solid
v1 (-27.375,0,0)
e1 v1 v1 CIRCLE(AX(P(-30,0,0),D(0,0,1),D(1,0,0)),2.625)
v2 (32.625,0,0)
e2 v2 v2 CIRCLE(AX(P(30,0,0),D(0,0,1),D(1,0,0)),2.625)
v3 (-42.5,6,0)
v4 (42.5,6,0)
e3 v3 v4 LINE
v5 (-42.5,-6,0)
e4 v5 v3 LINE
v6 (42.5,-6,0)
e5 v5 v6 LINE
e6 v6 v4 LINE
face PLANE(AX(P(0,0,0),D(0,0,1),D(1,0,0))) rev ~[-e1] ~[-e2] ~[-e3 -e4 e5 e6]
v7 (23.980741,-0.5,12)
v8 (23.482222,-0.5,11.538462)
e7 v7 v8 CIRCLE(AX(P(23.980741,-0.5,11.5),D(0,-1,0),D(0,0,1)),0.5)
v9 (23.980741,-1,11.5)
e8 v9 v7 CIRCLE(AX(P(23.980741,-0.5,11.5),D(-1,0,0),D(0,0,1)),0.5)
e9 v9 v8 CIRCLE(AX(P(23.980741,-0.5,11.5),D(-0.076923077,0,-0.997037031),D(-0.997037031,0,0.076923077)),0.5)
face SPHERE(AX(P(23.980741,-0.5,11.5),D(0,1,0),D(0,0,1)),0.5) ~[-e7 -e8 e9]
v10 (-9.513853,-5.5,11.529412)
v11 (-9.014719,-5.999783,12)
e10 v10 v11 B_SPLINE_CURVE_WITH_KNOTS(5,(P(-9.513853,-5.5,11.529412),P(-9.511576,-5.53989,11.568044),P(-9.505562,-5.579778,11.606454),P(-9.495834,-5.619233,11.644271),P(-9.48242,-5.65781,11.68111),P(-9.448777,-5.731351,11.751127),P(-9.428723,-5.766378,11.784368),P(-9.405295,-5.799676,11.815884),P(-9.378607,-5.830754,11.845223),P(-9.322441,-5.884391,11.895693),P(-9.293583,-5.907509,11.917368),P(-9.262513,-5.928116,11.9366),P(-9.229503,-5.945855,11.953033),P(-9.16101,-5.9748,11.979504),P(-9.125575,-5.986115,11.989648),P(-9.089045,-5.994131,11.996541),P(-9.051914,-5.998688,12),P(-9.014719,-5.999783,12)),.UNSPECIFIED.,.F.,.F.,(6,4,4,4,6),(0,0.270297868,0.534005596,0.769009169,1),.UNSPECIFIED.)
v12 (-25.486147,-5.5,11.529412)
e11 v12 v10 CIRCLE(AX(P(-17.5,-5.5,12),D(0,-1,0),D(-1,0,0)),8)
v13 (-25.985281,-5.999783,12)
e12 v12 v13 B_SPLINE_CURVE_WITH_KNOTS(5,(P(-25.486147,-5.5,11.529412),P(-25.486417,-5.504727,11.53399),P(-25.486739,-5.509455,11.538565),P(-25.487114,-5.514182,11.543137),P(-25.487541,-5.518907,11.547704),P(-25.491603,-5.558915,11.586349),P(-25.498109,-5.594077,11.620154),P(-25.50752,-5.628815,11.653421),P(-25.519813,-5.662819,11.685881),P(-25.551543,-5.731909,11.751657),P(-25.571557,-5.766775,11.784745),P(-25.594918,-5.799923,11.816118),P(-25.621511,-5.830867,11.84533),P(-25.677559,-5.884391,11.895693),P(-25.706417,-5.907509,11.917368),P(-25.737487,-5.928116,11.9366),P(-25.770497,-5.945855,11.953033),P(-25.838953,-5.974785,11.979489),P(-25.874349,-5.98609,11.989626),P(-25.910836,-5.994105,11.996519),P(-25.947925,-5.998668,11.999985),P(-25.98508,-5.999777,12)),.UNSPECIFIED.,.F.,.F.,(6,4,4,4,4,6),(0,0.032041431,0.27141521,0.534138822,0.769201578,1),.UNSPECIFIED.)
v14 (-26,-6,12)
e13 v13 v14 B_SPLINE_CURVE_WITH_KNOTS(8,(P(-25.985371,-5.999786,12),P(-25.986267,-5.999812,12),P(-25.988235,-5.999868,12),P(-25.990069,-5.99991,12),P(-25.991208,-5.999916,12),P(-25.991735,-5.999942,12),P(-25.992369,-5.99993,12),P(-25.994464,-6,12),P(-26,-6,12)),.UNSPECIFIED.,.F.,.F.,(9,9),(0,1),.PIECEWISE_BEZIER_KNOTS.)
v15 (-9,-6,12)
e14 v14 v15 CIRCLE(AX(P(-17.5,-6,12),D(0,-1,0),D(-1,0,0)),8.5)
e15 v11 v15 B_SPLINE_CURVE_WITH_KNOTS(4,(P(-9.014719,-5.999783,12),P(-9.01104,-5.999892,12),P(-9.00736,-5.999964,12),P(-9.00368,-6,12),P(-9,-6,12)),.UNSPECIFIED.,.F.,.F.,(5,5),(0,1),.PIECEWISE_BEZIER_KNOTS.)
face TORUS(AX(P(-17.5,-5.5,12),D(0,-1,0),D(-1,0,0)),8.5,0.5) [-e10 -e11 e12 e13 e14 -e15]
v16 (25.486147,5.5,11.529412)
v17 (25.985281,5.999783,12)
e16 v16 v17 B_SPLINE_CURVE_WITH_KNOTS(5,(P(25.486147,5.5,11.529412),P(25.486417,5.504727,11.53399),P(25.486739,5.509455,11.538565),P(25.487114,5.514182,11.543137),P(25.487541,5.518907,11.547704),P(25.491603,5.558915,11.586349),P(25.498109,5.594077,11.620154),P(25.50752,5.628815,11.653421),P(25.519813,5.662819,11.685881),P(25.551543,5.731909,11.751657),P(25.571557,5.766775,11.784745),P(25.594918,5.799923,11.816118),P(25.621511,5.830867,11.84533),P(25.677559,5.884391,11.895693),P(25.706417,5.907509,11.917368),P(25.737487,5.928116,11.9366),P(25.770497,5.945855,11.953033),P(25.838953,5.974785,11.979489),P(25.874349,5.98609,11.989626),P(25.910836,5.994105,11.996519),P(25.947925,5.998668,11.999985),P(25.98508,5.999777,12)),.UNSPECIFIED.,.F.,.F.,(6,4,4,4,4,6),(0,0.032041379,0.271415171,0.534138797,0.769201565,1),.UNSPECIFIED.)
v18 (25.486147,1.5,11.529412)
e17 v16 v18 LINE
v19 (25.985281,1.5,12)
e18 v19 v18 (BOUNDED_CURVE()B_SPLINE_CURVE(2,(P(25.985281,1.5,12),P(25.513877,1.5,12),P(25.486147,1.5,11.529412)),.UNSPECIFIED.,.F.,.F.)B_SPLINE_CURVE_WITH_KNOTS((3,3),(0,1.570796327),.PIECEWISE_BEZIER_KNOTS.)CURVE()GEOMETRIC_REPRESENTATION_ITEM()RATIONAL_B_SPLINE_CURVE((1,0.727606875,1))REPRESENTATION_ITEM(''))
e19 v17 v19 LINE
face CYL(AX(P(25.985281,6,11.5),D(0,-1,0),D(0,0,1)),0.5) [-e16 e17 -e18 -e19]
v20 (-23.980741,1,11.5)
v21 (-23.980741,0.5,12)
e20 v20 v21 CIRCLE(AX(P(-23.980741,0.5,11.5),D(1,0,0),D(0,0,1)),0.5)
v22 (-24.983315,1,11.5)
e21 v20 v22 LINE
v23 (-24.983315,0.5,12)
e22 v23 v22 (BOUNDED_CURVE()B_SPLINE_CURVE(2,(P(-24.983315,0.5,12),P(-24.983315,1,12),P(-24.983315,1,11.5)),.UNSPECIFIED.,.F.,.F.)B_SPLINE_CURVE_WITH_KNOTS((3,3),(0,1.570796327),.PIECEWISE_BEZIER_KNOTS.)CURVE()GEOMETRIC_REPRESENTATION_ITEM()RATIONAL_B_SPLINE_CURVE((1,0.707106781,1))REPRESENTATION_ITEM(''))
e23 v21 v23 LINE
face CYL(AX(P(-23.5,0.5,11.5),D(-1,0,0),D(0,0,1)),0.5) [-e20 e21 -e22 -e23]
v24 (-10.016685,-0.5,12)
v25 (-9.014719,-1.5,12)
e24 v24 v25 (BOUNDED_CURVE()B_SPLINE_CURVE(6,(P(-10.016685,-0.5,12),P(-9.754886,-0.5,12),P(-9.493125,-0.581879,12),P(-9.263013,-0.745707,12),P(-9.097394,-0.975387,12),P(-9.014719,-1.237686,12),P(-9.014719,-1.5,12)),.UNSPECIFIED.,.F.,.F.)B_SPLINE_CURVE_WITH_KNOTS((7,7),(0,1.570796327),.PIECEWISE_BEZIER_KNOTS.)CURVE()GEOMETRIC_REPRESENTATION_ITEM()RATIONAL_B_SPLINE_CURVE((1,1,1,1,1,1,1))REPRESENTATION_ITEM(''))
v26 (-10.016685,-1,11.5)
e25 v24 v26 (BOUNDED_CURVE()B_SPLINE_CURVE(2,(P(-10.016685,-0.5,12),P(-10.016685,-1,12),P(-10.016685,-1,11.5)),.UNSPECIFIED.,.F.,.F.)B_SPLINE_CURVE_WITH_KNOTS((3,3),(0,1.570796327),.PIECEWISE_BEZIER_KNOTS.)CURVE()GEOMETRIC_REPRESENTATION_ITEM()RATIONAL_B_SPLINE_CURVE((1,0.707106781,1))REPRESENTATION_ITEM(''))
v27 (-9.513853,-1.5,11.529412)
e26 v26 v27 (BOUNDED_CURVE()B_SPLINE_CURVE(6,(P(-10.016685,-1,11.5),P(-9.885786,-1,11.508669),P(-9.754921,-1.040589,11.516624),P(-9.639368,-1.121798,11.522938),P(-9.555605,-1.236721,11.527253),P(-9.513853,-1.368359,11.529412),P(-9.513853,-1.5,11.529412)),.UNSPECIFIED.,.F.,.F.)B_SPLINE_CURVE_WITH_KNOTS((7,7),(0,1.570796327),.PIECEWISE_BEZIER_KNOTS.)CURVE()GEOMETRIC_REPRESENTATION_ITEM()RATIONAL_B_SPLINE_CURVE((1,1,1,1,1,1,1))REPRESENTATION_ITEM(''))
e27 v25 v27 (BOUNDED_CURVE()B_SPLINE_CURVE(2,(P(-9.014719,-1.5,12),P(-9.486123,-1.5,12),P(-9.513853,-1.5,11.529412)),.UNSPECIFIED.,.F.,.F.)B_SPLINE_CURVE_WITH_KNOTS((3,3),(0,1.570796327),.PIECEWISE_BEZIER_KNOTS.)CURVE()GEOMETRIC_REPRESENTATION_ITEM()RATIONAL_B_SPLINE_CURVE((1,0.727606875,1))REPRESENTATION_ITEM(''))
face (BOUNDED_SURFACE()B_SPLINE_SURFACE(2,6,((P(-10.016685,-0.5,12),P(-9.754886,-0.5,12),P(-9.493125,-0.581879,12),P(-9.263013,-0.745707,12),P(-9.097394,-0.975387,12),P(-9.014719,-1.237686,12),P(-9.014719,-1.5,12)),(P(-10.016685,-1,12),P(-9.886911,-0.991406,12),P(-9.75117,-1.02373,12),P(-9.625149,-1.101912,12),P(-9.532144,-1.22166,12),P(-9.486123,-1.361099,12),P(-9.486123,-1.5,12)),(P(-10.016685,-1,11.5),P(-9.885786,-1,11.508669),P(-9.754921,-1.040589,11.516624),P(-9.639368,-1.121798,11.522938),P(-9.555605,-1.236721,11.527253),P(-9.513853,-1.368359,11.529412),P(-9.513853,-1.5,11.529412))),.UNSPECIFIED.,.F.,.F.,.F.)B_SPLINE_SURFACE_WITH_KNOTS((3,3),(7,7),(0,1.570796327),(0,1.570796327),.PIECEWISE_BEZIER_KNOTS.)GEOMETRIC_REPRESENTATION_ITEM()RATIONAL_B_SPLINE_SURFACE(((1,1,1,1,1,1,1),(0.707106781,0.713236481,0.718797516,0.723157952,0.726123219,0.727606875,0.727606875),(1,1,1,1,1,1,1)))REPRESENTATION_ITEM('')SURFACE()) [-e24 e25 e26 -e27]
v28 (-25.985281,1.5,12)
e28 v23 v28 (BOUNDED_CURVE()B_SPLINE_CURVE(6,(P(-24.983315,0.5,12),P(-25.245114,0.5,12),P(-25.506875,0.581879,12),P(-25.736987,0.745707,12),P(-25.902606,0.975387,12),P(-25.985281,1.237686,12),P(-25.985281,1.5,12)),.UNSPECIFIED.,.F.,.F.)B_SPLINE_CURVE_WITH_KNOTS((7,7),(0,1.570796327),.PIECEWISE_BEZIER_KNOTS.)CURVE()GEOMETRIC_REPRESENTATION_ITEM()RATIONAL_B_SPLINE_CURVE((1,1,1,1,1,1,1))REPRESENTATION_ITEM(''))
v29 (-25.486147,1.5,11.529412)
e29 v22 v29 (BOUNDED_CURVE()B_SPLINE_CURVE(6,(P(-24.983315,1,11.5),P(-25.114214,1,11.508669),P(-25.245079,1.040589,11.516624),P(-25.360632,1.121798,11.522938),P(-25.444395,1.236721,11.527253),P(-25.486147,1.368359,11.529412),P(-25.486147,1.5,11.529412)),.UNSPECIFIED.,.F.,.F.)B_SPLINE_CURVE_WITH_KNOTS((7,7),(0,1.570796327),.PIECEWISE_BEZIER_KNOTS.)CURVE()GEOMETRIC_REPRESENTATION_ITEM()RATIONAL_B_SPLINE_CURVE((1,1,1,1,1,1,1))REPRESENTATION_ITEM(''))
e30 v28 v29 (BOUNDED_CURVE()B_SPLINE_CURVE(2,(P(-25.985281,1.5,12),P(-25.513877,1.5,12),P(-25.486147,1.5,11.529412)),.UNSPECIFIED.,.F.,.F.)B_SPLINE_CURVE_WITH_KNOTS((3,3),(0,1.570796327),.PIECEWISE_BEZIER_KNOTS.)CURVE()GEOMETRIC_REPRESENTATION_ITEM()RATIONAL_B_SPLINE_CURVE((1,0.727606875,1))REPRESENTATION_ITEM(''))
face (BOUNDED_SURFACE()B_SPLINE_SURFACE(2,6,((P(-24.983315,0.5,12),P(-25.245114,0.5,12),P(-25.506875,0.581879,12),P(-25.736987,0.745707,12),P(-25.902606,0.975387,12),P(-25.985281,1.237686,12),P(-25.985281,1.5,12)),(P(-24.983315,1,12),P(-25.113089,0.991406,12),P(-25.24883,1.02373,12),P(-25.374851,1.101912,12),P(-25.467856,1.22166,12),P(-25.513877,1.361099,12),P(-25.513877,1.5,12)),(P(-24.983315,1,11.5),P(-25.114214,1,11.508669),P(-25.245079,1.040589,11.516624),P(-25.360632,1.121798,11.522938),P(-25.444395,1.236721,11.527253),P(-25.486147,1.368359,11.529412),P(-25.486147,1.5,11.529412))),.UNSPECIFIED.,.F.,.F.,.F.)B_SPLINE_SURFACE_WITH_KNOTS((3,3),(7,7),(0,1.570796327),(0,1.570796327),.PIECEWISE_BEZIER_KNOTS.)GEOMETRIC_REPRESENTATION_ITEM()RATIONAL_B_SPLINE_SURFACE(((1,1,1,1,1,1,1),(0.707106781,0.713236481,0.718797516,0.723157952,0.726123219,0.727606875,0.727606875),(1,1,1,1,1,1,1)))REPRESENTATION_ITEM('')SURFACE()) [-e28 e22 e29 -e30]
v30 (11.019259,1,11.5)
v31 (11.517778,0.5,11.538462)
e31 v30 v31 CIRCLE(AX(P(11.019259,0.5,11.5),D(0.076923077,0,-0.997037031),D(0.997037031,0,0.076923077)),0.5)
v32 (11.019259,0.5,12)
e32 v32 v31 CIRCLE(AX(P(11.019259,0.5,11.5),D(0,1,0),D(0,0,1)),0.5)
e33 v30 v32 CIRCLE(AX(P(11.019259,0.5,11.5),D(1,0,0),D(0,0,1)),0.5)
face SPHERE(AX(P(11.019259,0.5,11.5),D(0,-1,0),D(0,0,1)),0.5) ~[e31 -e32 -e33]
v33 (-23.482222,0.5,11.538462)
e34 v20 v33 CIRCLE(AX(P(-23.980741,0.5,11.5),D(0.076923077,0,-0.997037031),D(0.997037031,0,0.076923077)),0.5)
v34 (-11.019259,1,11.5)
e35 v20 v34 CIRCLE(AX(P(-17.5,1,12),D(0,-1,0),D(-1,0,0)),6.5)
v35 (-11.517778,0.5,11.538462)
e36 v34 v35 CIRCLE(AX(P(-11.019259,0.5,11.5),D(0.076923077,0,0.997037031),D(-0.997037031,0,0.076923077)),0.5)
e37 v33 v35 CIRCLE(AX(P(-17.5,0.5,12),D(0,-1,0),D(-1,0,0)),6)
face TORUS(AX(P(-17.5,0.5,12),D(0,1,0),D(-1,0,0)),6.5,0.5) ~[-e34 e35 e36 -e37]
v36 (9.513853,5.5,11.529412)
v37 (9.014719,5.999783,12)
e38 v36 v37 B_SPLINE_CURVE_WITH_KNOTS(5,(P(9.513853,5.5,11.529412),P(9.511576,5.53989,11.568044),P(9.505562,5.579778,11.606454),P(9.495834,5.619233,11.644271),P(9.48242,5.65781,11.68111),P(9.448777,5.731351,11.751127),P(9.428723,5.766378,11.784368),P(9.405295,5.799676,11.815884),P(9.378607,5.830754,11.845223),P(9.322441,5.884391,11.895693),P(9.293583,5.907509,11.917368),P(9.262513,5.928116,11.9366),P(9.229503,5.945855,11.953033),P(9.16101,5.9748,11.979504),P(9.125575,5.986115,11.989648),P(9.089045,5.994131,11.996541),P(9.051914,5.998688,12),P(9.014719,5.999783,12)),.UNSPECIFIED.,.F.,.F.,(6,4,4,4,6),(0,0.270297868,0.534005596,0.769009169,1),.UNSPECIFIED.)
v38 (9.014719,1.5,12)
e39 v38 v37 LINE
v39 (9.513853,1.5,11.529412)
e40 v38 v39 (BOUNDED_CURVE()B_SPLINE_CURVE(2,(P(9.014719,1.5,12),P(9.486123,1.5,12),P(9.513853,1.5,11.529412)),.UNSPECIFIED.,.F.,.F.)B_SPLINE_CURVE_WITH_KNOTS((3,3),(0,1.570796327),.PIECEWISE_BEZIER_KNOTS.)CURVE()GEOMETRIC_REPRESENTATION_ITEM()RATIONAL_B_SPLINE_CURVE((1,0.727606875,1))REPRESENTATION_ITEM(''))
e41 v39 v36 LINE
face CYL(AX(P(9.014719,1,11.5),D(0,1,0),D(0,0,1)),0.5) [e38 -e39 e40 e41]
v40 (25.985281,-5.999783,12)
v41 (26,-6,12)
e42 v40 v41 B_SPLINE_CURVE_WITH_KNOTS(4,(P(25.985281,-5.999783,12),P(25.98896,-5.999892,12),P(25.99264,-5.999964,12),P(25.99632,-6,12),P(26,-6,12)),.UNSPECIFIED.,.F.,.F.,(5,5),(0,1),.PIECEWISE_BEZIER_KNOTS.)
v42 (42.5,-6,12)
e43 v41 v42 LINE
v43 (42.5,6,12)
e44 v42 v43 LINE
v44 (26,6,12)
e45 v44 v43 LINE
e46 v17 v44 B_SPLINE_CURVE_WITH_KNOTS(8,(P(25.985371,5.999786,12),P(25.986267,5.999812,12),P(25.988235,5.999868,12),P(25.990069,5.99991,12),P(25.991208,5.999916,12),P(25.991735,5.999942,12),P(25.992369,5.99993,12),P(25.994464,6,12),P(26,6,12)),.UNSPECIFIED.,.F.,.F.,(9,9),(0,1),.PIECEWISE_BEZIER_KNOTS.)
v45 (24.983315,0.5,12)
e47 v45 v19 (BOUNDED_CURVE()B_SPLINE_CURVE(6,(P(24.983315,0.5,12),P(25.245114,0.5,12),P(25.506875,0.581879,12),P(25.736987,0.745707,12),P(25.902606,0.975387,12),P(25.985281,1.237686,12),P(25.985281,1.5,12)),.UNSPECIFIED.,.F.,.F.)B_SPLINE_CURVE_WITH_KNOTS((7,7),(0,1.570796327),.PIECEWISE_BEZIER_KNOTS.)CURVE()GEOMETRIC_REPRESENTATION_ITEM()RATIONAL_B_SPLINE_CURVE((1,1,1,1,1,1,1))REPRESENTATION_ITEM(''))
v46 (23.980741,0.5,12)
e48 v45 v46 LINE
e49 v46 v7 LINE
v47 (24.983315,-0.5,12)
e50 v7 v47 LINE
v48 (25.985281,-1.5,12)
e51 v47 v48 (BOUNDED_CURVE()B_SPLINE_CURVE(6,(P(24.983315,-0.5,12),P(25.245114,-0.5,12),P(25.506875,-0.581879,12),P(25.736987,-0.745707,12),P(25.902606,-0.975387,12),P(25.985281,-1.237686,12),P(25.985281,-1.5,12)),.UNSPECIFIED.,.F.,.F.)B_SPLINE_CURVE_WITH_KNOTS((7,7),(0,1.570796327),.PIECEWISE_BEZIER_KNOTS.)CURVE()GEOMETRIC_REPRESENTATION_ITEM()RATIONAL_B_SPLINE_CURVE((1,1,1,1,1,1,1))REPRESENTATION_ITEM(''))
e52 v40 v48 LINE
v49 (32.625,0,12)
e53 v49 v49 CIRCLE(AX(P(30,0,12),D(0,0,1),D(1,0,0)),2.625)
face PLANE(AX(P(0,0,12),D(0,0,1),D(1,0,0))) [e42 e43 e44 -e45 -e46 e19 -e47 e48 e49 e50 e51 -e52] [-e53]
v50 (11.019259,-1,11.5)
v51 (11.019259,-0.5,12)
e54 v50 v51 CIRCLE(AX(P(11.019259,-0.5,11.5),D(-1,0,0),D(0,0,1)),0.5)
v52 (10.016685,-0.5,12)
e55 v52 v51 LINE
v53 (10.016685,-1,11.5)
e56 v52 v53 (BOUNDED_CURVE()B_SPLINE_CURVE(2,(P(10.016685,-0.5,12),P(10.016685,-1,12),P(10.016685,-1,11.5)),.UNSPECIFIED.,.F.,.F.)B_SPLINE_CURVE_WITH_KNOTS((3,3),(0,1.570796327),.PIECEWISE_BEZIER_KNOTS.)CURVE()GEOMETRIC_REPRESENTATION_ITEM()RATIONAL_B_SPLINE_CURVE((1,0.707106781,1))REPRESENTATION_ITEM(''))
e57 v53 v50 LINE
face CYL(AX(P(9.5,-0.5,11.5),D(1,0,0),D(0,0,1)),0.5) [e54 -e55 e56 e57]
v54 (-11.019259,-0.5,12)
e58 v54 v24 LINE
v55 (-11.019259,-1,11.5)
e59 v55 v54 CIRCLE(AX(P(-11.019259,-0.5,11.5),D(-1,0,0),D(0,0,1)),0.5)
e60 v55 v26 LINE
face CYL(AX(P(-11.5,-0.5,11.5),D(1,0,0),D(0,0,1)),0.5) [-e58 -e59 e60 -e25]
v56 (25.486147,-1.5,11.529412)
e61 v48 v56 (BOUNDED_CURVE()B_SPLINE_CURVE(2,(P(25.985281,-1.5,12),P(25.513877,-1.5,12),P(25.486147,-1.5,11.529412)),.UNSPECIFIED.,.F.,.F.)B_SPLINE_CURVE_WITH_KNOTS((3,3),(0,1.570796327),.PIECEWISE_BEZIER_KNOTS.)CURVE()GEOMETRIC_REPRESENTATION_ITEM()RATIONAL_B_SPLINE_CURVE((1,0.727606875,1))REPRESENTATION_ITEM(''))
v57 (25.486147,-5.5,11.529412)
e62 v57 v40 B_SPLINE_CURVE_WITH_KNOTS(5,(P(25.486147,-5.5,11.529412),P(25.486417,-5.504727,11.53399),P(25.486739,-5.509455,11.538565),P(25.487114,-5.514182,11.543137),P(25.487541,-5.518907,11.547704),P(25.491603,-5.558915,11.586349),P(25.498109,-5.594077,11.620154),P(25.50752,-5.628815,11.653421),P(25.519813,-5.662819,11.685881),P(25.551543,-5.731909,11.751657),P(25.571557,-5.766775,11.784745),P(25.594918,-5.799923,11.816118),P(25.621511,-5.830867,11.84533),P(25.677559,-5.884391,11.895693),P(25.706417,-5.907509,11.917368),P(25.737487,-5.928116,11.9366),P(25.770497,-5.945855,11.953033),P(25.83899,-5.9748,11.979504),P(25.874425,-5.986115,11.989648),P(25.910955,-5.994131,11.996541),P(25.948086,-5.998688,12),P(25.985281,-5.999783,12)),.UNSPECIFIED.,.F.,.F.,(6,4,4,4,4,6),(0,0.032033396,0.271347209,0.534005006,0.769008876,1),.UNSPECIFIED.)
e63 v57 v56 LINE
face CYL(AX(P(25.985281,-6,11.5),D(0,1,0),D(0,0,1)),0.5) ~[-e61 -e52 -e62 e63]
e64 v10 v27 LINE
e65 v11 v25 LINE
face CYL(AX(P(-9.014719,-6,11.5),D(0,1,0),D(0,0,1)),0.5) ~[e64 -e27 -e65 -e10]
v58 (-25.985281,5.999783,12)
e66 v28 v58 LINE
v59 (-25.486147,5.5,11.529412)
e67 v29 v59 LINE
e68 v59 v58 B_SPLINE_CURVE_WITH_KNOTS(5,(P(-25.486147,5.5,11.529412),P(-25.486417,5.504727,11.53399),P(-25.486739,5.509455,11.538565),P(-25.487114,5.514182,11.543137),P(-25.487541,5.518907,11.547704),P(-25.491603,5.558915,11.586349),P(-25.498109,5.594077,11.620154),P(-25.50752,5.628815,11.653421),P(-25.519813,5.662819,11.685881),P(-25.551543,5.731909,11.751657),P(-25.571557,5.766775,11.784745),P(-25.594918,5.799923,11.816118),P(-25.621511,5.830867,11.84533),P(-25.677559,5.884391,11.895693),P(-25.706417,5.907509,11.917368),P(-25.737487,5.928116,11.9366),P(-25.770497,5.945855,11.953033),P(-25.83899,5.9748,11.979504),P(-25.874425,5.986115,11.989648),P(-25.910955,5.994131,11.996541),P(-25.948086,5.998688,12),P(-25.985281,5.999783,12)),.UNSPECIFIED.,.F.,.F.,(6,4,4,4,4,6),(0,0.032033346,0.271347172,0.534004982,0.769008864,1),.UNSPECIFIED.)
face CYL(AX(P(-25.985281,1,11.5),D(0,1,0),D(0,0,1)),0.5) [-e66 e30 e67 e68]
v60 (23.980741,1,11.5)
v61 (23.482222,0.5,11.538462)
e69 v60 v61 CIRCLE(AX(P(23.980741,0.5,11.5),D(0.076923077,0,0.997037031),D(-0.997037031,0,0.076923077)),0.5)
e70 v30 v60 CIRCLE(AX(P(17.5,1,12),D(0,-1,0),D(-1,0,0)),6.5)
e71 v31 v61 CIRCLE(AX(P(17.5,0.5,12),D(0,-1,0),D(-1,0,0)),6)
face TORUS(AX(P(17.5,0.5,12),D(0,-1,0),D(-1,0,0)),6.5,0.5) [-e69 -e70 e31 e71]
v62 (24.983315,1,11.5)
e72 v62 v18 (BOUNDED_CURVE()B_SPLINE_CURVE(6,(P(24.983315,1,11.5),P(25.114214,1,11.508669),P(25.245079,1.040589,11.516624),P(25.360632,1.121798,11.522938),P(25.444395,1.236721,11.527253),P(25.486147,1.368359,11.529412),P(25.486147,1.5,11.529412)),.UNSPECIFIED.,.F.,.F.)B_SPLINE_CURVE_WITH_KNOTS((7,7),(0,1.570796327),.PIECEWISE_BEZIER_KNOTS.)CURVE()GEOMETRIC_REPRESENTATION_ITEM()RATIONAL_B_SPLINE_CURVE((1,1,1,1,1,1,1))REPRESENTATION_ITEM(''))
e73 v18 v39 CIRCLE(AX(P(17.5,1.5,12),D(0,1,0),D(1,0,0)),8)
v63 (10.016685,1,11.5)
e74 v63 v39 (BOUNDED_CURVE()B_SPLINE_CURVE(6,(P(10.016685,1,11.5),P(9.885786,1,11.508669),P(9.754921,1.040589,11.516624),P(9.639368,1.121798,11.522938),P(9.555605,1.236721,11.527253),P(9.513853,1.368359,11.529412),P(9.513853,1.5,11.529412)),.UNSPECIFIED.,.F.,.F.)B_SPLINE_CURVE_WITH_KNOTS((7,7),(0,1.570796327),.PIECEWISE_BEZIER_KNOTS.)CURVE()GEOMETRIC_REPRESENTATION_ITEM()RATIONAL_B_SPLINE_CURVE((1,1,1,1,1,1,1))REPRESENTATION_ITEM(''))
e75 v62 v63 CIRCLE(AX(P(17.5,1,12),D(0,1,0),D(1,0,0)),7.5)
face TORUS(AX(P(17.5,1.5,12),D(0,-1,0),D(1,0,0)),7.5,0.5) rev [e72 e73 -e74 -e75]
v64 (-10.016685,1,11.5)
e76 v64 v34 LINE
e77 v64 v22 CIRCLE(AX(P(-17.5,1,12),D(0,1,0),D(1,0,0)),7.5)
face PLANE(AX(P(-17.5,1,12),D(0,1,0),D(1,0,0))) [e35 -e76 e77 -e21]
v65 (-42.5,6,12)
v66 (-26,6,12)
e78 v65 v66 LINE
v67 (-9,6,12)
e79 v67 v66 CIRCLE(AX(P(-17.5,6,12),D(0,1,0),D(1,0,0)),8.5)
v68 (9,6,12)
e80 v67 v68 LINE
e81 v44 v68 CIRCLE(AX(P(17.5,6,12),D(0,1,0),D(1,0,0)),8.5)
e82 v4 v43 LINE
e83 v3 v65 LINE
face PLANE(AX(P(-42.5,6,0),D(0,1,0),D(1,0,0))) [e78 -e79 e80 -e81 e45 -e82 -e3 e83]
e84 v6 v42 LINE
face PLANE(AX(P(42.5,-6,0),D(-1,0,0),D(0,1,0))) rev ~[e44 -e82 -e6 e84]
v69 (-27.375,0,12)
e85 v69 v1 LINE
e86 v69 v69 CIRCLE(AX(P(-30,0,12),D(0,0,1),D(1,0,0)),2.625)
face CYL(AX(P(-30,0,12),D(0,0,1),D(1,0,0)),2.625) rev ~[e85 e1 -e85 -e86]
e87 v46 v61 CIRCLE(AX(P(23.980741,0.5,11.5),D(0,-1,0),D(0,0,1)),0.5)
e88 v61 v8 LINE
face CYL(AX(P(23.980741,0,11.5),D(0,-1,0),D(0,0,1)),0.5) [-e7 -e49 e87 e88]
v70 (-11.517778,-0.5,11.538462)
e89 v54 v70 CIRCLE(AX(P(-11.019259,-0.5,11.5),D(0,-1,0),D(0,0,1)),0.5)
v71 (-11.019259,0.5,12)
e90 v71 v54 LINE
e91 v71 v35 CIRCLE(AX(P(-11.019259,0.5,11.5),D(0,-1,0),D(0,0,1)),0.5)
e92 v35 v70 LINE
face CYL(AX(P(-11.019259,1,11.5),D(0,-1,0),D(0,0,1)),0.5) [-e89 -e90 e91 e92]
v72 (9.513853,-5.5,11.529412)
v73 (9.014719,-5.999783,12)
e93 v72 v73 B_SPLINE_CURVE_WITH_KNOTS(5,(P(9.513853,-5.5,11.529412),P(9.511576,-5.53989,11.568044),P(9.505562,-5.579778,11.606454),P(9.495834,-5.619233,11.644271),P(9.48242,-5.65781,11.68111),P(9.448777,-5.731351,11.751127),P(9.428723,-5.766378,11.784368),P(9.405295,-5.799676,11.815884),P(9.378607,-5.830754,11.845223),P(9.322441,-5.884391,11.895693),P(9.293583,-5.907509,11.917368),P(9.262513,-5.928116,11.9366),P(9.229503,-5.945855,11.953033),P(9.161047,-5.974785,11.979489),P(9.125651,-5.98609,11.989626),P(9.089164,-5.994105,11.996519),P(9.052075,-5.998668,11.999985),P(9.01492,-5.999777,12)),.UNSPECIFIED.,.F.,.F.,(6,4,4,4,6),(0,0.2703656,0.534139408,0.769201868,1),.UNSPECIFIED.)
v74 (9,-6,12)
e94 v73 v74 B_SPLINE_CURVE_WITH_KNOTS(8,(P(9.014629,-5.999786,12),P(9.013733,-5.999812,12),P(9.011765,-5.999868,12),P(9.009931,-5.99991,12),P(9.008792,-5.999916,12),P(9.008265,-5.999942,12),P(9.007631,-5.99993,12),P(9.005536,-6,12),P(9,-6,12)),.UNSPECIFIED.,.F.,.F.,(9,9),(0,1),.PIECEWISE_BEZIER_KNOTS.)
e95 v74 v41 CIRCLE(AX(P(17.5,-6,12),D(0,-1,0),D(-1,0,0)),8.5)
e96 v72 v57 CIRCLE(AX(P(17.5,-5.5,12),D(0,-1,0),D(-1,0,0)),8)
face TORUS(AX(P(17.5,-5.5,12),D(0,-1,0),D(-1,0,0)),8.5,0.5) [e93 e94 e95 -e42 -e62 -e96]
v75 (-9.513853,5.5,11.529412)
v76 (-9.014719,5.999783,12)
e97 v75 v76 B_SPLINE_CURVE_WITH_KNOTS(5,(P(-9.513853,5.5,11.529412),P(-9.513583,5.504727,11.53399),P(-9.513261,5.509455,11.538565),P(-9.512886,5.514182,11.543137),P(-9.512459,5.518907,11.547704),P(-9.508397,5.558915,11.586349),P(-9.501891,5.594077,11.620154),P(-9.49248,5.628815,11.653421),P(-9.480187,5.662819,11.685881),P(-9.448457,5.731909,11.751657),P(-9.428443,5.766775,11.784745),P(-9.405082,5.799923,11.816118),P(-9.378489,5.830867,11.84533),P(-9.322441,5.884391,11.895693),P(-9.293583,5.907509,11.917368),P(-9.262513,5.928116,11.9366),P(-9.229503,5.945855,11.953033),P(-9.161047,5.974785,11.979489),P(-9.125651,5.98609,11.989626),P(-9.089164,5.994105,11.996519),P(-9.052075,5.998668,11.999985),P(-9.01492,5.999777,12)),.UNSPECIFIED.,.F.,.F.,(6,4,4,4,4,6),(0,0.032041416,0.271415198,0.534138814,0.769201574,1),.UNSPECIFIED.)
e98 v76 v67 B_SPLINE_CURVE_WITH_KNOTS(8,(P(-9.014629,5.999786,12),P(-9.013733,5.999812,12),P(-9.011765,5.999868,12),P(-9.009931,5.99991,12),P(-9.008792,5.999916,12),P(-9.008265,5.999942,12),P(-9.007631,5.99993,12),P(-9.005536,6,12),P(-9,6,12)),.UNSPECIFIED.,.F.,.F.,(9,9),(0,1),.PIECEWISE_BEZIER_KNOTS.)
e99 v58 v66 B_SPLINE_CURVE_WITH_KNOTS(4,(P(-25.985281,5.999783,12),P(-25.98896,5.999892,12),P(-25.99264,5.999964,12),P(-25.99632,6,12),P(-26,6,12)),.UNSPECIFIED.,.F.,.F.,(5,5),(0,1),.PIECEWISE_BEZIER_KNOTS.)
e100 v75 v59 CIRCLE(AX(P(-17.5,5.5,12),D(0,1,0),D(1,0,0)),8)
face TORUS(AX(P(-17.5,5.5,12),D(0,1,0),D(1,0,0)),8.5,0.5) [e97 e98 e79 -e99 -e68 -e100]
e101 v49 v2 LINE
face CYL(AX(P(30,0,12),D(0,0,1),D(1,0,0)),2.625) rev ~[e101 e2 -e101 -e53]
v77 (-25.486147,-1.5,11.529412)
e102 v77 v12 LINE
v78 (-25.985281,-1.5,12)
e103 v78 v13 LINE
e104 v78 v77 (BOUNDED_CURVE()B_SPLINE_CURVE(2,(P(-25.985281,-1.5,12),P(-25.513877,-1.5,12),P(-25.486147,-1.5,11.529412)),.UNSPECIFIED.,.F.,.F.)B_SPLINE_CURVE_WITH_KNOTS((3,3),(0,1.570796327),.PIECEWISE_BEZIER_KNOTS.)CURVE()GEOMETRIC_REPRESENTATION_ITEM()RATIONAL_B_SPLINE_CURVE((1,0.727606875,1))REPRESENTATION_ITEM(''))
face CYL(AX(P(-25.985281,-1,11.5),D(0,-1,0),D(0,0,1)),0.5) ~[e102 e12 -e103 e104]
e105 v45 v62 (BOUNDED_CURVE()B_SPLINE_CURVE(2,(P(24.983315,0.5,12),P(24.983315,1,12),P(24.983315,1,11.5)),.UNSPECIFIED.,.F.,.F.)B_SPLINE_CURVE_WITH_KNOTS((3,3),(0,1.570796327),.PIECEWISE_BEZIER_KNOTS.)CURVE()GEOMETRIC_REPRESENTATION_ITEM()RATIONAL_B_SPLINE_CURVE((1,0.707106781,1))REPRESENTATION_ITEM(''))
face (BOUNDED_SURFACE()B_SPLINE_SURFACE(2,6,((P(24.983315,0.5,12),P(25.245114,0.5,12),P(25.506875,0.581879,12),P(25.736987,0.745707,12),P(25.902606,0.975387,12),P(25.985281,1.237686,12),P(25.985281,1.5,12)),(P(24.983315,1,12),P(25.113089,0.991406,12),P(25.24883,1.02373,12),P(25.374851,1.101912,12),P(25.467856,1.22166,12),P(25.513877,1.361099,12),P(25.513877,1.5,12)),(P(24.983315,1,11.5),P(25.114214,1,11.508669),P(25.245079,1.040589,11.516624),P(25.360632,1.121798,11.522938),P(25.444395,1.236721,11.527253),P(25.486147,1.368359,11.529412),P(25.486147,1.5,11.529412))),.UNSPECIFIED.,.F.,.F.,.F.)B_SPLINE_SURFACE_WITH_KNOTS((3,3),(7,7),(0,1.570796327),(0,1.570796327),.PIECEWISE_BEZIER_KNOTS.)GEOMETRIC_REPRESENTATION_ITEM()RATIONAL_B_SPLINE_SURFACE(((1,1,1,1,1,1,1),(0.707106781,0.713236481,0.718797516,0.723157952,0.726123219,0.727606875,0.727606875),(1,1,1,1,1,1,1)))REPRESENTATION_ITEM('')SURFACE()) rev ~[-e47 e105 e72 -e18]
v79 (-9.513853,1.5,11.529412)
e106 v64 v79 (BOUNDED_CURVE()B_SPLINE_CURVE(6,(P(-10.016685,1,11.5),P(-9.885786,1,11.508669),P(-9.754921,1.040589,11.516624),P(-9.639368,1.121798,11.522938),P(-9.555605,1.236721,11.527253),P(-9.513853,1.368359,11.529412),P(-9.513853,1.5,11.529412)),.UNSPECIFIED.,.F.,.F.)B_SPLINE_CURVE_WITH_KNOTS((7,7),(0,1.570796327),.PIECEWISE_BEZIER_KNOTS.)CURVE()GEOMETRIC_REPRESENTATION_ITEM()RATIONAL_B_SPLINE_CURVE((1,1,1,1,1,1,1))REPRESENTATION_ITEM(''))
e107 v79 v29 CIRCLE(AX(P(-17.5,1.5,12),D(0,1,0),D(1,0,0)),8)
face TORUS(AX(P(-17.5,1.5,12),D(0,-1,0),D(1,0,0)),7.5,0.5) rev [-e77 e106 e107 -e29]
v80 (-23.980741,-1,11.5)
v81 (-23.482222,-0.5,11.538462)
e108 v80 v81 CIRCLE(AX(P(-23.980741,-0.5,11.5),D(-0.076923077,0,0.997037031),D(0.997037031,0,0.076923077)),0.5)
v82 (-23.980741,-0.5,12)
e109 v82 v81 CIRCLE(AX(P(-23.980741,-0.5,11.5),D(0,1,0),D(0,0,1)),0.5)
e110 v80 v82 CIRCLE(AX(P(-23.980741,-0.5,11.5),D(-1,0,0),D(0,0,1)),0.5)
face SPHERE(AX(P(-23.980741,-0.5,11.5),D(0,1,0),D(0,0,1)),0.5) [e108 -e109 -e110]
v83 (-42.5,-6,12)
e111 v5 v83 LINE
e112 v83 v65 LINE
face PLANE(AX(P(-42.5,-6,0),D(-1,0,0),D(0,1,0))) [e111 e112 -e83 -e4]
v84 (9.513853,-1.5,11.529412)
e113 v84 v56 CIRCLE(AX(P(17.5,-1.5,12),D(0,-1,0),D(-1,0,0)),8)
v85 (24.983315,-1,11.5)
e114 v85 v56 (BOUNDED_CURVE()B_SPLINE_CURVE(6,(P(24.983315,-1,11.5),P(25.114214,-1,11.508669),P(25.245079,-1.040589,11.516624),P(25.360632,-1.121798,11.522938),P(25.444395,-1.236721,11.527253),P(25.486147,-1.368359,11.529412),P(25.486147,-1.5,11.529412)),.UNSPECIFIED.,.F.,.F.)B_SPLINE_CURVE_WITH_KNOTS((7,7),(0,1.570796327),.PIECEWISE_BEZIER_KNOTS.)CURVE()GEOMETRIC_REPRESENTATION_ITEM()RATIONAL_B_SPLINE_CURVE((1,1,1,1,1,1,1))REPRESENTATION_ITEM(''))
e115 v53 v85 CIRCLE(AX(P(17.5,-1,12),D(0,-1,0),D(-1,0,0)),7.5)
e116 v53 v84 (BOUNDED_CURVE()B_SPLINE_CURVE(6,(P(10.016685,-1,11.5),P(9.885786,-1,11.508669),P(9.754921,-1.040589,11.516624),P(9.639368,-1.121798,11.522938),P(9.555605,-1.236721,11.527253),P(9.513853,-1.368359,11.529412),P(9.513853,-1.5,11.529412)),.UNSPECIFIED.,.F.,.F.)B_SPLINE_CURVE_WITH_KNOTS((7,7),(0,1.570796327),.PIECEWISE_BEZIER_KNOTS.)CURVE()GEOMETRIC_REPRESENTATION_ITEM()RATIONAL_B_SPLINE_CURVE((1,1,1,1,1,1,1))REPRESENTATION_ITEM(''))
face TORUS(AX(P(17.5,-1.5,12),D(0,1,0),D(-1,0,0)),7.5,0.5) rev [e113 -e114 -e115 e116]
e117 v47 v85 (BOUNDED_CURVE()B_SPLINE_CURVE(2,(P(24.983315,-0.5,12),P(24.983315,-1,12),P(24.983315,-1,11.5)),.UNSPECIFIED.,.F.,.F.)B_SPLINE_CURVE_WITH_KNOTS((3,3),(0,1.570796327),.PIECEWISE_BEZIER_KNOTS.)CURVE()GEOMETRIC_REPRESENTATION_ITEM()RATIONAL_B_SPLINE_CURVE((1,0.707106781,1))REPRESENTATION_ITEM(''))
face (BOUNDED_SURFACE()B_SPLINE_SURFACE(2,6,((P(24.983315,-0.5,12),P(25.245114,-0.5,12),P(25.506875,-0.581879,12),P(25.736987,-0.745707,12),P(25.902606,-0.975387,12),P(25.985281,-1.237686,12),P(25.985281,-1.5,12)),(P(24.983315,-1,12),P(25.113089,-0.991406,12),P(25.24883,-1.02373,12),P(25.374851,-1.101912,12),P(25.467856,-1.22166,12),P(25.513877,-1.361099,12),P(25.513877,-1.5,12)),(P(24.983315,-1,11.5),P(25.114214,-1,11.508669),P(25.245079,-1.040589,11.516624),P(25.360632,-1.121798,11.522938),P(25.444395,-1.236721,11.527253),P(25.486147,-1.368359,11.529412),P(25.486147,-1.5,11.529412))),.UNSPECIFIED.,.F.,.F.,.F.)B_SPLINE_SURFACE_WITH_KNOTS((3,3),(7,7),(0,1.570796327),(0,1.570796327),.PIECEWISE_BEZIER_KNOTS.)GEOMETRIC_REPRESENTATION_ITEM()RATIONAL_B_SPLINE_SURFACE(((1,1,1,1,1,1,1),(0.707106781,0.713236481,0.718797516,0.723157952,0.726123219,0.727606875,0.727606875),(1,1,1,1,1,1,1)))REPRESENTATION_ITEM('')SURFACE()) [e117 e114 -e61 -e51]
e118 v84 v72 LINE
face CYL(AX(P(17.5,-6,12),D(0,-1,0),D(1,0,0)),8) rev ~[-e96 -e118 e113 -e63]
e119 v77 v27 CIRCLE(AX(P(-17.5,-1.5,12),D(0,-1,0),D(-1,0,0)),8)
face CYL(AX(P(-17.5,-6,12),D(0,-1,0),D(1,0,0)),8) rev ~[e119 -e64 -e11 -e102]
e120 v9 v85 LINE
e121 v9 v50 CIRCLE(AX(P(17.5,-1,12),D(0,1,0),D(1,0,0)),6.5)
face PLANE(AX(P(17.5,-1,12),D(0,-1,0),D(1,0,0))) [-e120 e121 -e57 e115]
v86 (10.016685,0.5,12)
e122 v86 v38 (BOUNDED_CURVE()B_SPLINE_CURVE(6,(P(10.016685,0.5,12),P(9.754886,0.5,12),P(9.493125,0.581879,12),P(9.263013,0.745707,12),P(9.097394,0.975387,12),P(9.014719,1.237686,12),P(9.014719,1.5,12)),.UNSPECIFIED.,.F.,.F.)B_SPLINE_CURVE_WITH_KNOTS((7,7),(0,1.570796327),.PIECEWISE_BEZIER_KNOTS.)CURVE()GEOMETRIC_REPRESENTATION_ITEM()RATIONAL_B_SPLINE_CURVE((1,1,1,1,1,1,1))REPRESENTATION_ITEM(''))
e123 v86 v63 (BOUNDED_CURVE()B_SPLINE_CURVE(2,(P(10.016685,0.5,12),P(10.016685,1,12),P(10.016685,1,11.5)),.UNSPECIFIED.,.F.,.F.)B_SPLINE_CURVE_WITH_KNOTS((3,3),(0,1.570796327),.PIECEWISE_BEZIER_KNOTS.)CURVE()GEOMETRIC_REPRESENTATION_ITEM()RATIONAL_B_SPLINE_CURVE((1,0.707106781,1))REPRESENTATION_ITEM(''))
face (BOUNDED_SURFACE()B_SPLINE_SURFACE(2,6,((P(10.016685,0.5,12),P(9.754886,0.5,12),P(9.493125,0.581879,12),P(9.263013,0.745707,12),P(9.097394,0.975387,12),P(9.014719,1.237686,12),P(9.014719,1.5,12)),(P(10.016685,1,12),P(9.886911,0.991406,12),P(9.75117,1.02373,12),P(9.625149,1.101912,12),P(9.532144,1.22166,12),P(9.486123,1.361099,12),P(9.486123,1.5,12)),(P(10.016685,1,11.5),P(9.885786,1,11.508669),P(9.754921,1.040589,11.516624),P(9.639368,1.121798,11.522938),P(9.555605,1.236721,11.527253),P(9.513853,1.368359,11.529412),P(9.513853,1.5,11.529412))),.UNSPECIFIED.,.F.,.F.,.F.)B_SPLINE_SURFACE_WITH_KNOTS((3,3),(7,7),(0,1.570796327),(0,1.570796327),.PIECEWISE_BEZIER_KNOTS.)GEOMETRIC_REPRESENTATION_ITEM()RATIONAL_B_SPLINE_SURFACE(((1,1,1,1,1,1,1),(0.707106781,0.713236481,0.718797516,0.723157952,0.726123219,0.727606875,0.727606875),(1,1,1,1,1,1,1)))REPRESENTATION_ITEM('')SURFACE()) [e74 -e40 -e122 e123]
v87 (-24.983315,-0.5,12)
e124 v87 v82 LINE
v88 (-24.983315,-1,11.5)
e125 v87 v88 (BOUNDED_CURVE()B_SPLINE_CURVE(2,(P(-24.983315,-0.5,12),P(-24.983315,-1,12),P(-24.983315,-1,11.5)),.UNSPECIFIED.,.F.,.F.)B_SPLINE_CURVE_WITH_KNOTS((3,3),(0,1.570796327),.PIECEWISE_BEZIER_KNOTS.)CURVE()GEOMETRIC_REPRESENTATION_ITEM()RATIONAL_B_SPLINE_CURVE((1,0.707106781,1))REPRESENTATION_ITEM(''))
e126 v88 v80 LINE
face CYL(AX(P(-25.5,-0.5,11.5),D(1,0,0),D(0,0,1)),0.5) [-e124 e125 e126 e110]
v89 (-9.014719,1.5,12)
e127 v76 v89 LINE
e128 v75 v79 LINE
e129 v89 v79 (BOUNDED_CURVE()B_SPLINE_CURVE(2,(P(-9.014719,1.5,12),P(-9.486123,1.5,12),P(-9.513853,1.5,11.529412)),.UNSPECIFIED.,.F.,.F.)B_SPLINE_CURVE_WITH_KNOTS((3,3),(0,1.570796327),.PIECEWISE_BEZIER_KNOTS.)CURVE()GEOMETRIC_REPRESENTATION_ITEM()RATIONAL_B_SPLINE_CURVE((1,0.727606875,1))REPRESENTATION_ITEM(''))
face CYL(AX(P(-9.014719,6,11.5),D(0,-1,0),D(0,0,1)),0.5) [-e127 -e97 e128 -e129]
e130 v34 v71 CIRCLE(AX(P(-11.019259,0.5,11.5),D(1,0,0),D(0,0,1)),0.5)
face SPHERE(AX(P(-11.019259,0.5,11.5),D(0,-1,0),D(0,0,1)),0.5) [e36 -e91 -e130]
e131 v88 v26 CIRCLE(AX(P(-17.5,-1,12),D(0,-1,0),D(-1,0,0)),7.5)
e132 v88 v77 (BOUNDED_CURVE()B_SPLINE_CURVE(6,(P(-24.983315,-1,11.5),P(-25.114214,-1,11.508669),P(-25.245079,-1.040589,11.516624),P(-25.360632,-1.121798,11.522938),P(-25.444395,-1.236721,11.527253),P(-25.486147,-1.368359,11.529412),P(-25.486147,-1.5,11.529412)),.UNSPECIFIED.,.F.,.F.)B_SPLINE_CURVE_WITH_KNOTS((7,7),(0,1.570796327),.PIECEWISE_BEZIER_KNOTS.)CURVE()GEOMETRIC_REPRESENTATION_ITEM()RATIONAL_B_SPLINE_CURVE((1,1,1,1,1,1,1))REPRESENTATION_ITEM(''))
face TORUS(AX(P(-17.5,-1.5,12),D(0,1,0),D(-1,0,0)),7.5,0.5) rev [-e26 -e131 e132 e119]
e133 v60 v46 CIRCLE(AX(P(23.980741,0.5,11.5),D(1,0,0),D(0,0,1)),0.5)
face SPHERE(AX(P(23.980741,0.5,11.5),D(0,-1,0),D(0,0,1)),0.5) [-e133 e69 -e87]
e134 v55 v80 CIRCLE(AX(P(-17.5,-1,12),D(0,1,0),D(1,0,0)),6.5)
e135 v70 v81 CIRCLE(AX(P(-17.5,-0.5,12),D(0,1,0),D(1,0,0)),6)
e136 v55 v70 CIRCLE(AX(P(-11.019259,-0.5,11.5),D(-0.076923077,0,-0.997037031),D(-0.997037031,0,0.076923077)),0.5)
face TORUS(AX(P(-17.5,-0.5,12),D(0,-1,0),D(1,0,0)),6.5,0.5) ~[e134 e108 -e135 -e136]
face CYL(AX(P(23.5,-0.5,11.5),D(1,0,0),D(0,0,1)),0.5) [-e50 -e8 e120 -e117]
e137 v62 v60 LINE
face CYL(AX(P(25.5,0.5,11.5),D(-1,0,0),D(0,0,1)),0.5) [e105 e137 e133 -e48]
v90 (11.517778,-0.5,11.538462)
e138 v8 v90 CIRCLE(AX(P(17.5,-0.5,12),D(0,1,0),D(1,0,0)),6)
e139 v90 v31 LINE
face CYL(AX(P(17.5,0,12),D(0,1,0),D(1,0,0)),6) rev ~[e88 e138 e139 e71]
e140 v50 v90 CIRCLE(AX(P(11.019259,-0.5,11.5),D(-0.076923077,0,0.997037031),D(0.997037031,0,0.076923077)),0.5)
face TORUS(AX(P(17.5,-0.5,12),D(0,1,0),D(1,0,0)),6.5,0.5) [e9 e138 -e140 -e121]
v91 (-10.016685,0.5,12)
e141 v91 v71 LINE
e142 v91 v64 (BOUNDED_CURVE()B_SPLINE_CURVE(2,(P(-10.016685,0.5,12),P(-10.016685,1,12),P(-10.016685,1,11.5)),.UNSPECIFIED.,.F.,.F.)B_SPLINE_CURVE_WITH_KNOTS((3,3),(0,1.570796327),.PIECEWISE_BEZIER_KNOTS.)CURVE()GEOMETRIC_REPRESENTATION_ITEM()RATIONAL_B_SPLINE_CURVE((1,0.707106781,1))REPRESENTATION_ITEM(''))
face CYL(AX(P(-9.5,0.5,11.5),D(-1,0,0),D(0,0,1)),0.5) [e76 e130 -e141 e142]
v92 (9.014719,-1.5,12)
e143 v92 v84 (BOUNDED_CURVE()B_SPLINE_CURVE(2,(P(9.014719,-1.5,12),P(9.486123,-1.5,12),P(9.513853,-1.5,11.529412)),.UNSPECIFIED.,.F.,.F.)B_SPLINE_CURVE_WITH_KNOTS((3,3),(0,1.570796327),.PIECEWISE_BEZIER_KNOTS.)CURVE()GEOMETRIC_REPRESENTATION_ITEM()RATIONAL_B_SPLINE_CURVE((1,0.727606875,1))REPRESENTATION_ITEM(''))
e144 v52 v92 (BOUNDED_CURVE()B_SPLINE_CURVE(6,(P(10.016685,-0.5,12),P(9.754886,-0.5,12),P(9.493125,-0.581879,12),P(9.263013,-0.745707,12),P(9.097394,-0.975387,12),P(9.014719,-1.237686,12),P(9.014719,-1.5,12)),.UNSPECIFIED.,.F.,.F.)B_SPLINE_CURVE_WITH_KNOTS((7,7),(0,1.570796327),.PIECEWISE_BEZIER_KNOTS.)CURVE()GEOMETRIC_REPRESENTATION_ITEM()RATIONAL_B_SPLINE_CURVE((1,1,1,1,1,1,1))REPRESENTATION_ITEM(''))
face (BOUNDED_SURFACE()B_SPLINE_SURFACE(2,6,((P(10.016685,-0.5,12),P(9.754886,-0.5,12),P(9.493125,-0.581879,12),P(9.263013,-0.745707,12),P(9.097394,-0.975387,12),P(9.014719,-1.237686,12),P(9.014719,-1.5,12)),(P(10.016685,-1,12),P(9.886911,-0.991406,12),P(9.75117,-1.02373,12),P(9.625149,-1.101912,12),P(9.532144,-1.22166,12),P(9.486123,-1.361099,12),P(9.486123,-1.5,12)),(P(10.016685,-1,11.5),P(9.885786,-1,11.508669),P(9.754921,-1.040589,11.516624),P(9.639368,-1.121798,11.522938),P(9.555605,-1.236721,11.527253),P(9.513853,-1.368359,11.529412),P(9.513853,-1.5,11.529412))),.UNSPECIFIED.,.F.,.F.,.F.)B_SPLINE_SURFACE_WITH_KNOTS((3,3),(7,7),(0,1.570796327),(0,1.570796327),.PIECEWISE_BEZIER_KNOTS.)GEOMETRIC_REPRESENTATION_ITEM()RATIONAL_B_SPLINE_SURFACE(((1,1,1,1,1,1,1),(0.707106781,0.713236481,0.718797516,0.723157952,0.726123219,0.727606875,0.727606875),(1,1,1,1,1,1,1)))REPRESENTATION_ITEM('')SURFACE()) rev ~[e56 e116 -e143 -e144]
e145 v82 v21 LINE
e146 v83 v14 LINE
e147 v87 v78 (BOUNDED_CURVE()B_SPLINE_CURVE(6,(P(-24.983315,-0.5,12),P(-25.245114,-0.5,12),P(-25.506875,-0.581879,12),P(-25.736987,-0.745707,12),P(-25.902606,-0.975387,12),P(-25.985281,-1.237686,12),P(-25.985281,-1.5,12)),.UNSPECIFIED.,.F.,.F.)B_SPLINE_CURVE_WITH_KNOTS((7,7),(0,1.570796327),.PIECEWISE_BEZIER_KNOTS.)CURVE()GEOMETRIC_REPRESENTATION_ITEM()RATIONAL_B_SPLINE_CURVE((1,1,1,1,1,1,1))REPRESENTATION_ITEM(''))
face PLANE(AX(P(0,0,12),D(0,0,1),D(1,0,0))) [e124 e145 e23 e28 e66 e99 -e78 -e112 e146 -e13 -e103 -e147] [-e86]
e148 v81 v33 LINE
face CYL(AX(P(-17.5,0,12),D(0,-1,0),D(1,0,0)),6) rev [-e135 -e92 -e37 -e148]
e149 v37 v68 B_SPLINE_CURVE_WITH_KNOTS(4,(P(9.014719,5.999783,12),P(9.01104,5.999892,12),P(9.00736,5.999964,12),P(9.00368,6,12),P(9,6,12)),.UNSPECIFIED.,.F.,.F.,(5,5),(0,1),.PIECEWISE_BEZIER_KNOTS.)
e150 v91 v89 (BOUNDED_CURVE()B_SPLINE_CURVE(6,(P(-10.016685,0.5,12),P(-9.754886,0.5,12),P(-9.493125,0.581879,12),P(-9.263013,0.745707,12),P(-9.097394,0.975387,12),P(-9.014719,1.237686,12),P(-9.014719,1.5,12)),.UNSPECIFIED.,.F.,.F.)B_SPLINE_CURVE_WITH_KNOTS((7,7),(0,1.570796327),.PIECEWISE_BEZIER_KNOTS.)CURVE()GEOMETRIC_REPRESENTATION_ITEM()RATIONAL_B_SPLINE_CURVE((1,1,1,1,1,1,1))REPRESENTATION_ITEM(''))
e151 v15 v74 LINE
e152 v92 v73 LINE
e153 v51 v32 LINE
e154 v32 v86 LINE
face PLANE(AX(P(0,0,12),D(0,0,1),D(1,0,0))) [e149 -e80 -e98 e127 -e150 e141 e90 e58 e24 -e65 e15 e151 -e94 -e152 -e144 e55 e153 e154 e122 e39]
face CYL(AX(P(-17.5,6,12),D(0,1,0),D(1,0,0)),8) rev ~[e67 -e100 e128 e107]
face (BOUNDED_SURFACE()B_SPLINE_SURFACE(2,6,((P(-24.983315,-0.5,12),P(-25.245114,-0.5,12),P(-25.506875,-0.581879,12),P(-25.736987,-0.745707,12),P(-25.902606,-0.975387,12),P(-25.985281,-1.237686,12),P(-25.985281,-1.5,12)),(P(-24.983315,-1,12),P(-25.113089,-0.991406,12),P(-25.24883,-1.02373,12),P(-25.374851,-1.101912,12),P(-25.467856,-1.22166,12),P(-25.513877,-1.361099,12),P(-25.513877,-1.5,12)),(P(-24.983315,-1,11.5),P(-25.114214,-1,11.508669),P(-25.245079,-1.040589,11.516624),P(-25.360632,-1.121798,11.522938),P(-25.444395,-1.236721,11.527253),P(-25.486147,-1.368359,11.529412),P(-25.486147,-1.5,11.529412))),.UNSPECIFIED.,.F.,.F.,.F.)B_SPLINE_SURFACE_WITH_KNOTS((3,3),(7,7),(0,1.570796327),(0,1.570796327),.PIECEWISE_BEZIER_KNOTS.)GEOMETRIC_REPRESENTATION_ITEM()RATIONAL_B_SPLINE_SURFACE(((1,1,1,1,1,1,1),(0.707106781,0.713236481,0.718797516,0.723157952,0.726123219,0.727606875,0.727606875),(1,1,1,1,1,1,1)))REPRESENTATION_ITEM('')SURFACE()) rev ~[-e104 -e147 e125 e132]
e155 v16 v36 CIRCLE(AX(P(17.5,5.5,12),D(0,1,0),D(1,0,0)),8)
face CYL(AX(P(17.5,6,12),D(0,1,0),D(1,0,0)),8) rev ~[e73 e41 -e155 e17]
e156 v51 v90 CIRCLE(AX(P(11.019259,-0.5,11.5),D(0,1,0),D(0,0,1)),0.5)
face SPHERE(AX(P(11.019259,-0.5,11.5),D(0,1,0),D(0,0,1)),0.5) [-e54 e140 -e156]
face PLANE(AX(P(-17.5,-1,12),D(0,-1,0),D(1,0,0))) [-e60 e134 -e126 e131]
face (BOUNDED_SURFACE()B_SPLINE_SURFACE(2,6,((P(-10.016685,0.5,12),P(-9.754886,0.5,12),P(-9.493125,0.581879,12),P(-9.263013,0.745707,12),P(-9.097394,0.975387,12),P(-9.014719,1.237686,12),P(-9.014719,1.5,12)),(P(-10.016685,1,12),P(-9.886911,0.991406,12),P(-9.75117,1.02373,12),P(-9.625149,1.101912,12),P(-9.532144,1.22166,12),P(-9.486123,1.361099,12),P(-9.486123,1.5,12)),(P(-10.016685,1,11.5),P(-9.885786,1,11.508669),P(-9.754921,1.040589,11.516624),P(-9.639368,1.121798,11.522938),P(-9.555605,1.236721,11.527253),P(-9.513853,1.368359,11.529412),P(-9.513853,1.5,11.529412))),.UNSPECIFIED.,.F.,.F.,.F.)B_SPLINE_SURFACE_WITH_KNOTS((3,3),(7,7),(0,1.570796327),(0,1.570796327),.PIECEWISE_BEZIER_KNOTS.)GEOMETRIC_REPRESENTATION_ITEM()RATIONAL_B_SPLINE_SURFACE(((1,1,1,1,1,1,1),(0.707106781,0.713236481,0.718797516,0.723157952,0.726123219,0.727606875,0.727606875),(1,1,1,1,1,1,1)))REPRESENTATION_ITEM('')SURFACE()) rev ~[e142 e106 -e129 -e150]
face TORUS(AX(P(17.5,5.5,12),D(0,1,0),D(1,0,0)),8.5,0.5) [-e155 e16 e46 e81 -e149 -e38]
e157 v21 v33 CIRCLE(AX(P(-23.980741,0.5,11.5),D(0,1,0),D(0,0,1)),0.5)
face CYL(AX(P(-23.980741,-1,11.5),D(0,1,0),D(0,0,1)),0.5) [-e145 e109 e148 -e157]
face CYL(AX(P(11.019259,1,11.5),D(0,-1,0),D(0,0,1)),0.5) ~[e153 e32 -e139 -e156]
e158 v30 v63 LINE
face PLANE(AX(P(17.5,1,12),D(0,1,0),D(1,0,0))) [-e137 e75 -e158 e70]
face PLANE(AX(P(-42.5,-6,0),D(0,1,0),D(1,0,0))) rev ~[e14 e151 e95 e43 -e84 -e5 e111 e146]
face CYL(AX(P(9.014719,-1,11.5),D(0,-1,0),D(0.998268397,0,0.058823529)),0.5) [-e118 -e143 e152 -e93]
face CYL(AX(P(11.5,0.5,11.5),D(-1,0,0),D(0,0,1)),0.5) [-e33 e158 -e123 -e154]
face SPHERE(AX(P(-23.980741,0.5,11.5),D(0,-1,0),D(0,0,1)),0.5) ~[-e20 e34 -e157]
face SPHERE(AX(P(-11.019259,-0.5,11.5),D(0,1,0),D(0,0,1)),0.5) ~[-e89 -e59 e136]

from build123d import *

# Parameters (mm, degrees)
SKETCH1_W               = 85
SKETCH1_H               = 12
BOSS_EXTRUDE1_DEPTH     = 12
SKETCH2_R               = 8
CUT_EXTRUDE2_DEPTH      = 5
SKETCH3_R               = 8
CUT_EXTRUDE3_DEPTH      = 5
SKETCH4_R               = 6
CUT_EXTRUDE4_DEPTH      = 7
CUT_EXTRUDE4_DEPTH_BACK = 7
SKETCH5_R               = 2.625
CUT_EXTRUDE6_DEPTH      = 13
FILLET1_R               = 0.5


with BuildPart() as part:
    # Sketch1 → Boss-Extrude1 (new body)
    with BuildSketch(Plane.XY):
        Rectangle(SKETCH1_W, SKETCH1_H)
    extrude(amount=BOSS_EXTRUDE1_DEPTH)

    # Sketch2 → Cut-Extrude2 (cut)
    with BuildSketch(Plane(origin=(0, 6, 0), x_dir=(1, 0, 0), z_dir=(0, 1, 0))):
        with Locations((-17.5, -12)):
            Circle(SKETCH2_R)
        with Locations((17.5, -12)):
            Circle(SKETCH2_R)
    extrude(amount=-CUT_EXTRUDE2_DEPTH, mode=Mode.SUBTRACT)

    # Sketch3 → Cut-Extrude3 (cut)
    with BuildSketch(Plane.XZ.offset(6)):
        with Locations((-17.5, 12)):
            Circle(SKETCH3_R)
        with Locations((17.5, 12)):
            Circle(SKETCH3_R)
    extrude(amount=-CUT_EXTRUDE3_DEPTH, mode=Mode.SUBTRACT)

    # Sketch4 → Cut-Extrude4 (cut, two sides)
    with BuildSketch(Plane(origin=(0, 0, 0), x_dir=(1, 0, 0), z_dir=(0, 1, 0))) as cut_extrude4_sk:
        with Locations((-17.5, -12)):
            Circle(SKETCH4_R)
        with Locations((17.5, -12)):
            Circle(SKETCH4_R)
    extrude(amount=CUT_EXTRUDE4_DEPTH, mode=Mode.SUBTRACT)
    extrude(cut_extrude4_sk.sketch, amount=-CUT_EXTRUDE4_DEPTH_BACK, mode=Mode.SUBTRACT)

    # Sketch5 → Cut-Extrude6 (cut, through all)
    with BuildSketch(Plane.XY.offset(12)):
        with Locations((-30, 0)):
            Circle(SKETCH5_R)
        with Locations((30, 0)):
            Circle(SKETCH5_R)
    extrude(amount=-CUT_EXTRUDE6_DEPTH, mode=Mode.SUBTRACT)

    # Fillet1
    fillet1_edges = [part.edges().sort_by_distance(p)[0] for p in [
        (-24.5, 1, 12),
        (-9.5, 3.5, 12),
        (-25.5, 3.5, 12),
        (-17.5, 1, 4),
        (-17.5, 6, 4),
        (10.5, 1, 12),
        (25.5, 3.5, 12),
        (9.5, 3.5, 12),
        (17.5, 1, 4),
        (17.5, 6, 4),
        (-10.5, -1, 12),
        (-25.5, -3.5, 12),
        (-9.5, -3.5, 12),
        (-17.5, -1, 4),
        (-17.5, -6, 4),
        (24.5, -1, 12),
        (9.5, -3.5, 12),
        (25.5, -3.5, 12),
        (17.5, -1, 4),
        (17.5, -6, 4),
        (-24.5, -1, 12),
        (-17.5, -1, 6),
        (-10.5, 1, 12),
        (-17.5, 1, 6),
        (-11.5, 0, 12),
        (-23.5, 0, 12),
        (10.5, -1, 12),
        (17.5, -1, 6),
        (24.5, 1, 12),
        (17.5, 1, 6),
        (23.5, 0, 12),
        (11.5, 0, 12),
    ]]
    fillet(fillet1_edges, radius=FILLET1_R)


solid = part.part
